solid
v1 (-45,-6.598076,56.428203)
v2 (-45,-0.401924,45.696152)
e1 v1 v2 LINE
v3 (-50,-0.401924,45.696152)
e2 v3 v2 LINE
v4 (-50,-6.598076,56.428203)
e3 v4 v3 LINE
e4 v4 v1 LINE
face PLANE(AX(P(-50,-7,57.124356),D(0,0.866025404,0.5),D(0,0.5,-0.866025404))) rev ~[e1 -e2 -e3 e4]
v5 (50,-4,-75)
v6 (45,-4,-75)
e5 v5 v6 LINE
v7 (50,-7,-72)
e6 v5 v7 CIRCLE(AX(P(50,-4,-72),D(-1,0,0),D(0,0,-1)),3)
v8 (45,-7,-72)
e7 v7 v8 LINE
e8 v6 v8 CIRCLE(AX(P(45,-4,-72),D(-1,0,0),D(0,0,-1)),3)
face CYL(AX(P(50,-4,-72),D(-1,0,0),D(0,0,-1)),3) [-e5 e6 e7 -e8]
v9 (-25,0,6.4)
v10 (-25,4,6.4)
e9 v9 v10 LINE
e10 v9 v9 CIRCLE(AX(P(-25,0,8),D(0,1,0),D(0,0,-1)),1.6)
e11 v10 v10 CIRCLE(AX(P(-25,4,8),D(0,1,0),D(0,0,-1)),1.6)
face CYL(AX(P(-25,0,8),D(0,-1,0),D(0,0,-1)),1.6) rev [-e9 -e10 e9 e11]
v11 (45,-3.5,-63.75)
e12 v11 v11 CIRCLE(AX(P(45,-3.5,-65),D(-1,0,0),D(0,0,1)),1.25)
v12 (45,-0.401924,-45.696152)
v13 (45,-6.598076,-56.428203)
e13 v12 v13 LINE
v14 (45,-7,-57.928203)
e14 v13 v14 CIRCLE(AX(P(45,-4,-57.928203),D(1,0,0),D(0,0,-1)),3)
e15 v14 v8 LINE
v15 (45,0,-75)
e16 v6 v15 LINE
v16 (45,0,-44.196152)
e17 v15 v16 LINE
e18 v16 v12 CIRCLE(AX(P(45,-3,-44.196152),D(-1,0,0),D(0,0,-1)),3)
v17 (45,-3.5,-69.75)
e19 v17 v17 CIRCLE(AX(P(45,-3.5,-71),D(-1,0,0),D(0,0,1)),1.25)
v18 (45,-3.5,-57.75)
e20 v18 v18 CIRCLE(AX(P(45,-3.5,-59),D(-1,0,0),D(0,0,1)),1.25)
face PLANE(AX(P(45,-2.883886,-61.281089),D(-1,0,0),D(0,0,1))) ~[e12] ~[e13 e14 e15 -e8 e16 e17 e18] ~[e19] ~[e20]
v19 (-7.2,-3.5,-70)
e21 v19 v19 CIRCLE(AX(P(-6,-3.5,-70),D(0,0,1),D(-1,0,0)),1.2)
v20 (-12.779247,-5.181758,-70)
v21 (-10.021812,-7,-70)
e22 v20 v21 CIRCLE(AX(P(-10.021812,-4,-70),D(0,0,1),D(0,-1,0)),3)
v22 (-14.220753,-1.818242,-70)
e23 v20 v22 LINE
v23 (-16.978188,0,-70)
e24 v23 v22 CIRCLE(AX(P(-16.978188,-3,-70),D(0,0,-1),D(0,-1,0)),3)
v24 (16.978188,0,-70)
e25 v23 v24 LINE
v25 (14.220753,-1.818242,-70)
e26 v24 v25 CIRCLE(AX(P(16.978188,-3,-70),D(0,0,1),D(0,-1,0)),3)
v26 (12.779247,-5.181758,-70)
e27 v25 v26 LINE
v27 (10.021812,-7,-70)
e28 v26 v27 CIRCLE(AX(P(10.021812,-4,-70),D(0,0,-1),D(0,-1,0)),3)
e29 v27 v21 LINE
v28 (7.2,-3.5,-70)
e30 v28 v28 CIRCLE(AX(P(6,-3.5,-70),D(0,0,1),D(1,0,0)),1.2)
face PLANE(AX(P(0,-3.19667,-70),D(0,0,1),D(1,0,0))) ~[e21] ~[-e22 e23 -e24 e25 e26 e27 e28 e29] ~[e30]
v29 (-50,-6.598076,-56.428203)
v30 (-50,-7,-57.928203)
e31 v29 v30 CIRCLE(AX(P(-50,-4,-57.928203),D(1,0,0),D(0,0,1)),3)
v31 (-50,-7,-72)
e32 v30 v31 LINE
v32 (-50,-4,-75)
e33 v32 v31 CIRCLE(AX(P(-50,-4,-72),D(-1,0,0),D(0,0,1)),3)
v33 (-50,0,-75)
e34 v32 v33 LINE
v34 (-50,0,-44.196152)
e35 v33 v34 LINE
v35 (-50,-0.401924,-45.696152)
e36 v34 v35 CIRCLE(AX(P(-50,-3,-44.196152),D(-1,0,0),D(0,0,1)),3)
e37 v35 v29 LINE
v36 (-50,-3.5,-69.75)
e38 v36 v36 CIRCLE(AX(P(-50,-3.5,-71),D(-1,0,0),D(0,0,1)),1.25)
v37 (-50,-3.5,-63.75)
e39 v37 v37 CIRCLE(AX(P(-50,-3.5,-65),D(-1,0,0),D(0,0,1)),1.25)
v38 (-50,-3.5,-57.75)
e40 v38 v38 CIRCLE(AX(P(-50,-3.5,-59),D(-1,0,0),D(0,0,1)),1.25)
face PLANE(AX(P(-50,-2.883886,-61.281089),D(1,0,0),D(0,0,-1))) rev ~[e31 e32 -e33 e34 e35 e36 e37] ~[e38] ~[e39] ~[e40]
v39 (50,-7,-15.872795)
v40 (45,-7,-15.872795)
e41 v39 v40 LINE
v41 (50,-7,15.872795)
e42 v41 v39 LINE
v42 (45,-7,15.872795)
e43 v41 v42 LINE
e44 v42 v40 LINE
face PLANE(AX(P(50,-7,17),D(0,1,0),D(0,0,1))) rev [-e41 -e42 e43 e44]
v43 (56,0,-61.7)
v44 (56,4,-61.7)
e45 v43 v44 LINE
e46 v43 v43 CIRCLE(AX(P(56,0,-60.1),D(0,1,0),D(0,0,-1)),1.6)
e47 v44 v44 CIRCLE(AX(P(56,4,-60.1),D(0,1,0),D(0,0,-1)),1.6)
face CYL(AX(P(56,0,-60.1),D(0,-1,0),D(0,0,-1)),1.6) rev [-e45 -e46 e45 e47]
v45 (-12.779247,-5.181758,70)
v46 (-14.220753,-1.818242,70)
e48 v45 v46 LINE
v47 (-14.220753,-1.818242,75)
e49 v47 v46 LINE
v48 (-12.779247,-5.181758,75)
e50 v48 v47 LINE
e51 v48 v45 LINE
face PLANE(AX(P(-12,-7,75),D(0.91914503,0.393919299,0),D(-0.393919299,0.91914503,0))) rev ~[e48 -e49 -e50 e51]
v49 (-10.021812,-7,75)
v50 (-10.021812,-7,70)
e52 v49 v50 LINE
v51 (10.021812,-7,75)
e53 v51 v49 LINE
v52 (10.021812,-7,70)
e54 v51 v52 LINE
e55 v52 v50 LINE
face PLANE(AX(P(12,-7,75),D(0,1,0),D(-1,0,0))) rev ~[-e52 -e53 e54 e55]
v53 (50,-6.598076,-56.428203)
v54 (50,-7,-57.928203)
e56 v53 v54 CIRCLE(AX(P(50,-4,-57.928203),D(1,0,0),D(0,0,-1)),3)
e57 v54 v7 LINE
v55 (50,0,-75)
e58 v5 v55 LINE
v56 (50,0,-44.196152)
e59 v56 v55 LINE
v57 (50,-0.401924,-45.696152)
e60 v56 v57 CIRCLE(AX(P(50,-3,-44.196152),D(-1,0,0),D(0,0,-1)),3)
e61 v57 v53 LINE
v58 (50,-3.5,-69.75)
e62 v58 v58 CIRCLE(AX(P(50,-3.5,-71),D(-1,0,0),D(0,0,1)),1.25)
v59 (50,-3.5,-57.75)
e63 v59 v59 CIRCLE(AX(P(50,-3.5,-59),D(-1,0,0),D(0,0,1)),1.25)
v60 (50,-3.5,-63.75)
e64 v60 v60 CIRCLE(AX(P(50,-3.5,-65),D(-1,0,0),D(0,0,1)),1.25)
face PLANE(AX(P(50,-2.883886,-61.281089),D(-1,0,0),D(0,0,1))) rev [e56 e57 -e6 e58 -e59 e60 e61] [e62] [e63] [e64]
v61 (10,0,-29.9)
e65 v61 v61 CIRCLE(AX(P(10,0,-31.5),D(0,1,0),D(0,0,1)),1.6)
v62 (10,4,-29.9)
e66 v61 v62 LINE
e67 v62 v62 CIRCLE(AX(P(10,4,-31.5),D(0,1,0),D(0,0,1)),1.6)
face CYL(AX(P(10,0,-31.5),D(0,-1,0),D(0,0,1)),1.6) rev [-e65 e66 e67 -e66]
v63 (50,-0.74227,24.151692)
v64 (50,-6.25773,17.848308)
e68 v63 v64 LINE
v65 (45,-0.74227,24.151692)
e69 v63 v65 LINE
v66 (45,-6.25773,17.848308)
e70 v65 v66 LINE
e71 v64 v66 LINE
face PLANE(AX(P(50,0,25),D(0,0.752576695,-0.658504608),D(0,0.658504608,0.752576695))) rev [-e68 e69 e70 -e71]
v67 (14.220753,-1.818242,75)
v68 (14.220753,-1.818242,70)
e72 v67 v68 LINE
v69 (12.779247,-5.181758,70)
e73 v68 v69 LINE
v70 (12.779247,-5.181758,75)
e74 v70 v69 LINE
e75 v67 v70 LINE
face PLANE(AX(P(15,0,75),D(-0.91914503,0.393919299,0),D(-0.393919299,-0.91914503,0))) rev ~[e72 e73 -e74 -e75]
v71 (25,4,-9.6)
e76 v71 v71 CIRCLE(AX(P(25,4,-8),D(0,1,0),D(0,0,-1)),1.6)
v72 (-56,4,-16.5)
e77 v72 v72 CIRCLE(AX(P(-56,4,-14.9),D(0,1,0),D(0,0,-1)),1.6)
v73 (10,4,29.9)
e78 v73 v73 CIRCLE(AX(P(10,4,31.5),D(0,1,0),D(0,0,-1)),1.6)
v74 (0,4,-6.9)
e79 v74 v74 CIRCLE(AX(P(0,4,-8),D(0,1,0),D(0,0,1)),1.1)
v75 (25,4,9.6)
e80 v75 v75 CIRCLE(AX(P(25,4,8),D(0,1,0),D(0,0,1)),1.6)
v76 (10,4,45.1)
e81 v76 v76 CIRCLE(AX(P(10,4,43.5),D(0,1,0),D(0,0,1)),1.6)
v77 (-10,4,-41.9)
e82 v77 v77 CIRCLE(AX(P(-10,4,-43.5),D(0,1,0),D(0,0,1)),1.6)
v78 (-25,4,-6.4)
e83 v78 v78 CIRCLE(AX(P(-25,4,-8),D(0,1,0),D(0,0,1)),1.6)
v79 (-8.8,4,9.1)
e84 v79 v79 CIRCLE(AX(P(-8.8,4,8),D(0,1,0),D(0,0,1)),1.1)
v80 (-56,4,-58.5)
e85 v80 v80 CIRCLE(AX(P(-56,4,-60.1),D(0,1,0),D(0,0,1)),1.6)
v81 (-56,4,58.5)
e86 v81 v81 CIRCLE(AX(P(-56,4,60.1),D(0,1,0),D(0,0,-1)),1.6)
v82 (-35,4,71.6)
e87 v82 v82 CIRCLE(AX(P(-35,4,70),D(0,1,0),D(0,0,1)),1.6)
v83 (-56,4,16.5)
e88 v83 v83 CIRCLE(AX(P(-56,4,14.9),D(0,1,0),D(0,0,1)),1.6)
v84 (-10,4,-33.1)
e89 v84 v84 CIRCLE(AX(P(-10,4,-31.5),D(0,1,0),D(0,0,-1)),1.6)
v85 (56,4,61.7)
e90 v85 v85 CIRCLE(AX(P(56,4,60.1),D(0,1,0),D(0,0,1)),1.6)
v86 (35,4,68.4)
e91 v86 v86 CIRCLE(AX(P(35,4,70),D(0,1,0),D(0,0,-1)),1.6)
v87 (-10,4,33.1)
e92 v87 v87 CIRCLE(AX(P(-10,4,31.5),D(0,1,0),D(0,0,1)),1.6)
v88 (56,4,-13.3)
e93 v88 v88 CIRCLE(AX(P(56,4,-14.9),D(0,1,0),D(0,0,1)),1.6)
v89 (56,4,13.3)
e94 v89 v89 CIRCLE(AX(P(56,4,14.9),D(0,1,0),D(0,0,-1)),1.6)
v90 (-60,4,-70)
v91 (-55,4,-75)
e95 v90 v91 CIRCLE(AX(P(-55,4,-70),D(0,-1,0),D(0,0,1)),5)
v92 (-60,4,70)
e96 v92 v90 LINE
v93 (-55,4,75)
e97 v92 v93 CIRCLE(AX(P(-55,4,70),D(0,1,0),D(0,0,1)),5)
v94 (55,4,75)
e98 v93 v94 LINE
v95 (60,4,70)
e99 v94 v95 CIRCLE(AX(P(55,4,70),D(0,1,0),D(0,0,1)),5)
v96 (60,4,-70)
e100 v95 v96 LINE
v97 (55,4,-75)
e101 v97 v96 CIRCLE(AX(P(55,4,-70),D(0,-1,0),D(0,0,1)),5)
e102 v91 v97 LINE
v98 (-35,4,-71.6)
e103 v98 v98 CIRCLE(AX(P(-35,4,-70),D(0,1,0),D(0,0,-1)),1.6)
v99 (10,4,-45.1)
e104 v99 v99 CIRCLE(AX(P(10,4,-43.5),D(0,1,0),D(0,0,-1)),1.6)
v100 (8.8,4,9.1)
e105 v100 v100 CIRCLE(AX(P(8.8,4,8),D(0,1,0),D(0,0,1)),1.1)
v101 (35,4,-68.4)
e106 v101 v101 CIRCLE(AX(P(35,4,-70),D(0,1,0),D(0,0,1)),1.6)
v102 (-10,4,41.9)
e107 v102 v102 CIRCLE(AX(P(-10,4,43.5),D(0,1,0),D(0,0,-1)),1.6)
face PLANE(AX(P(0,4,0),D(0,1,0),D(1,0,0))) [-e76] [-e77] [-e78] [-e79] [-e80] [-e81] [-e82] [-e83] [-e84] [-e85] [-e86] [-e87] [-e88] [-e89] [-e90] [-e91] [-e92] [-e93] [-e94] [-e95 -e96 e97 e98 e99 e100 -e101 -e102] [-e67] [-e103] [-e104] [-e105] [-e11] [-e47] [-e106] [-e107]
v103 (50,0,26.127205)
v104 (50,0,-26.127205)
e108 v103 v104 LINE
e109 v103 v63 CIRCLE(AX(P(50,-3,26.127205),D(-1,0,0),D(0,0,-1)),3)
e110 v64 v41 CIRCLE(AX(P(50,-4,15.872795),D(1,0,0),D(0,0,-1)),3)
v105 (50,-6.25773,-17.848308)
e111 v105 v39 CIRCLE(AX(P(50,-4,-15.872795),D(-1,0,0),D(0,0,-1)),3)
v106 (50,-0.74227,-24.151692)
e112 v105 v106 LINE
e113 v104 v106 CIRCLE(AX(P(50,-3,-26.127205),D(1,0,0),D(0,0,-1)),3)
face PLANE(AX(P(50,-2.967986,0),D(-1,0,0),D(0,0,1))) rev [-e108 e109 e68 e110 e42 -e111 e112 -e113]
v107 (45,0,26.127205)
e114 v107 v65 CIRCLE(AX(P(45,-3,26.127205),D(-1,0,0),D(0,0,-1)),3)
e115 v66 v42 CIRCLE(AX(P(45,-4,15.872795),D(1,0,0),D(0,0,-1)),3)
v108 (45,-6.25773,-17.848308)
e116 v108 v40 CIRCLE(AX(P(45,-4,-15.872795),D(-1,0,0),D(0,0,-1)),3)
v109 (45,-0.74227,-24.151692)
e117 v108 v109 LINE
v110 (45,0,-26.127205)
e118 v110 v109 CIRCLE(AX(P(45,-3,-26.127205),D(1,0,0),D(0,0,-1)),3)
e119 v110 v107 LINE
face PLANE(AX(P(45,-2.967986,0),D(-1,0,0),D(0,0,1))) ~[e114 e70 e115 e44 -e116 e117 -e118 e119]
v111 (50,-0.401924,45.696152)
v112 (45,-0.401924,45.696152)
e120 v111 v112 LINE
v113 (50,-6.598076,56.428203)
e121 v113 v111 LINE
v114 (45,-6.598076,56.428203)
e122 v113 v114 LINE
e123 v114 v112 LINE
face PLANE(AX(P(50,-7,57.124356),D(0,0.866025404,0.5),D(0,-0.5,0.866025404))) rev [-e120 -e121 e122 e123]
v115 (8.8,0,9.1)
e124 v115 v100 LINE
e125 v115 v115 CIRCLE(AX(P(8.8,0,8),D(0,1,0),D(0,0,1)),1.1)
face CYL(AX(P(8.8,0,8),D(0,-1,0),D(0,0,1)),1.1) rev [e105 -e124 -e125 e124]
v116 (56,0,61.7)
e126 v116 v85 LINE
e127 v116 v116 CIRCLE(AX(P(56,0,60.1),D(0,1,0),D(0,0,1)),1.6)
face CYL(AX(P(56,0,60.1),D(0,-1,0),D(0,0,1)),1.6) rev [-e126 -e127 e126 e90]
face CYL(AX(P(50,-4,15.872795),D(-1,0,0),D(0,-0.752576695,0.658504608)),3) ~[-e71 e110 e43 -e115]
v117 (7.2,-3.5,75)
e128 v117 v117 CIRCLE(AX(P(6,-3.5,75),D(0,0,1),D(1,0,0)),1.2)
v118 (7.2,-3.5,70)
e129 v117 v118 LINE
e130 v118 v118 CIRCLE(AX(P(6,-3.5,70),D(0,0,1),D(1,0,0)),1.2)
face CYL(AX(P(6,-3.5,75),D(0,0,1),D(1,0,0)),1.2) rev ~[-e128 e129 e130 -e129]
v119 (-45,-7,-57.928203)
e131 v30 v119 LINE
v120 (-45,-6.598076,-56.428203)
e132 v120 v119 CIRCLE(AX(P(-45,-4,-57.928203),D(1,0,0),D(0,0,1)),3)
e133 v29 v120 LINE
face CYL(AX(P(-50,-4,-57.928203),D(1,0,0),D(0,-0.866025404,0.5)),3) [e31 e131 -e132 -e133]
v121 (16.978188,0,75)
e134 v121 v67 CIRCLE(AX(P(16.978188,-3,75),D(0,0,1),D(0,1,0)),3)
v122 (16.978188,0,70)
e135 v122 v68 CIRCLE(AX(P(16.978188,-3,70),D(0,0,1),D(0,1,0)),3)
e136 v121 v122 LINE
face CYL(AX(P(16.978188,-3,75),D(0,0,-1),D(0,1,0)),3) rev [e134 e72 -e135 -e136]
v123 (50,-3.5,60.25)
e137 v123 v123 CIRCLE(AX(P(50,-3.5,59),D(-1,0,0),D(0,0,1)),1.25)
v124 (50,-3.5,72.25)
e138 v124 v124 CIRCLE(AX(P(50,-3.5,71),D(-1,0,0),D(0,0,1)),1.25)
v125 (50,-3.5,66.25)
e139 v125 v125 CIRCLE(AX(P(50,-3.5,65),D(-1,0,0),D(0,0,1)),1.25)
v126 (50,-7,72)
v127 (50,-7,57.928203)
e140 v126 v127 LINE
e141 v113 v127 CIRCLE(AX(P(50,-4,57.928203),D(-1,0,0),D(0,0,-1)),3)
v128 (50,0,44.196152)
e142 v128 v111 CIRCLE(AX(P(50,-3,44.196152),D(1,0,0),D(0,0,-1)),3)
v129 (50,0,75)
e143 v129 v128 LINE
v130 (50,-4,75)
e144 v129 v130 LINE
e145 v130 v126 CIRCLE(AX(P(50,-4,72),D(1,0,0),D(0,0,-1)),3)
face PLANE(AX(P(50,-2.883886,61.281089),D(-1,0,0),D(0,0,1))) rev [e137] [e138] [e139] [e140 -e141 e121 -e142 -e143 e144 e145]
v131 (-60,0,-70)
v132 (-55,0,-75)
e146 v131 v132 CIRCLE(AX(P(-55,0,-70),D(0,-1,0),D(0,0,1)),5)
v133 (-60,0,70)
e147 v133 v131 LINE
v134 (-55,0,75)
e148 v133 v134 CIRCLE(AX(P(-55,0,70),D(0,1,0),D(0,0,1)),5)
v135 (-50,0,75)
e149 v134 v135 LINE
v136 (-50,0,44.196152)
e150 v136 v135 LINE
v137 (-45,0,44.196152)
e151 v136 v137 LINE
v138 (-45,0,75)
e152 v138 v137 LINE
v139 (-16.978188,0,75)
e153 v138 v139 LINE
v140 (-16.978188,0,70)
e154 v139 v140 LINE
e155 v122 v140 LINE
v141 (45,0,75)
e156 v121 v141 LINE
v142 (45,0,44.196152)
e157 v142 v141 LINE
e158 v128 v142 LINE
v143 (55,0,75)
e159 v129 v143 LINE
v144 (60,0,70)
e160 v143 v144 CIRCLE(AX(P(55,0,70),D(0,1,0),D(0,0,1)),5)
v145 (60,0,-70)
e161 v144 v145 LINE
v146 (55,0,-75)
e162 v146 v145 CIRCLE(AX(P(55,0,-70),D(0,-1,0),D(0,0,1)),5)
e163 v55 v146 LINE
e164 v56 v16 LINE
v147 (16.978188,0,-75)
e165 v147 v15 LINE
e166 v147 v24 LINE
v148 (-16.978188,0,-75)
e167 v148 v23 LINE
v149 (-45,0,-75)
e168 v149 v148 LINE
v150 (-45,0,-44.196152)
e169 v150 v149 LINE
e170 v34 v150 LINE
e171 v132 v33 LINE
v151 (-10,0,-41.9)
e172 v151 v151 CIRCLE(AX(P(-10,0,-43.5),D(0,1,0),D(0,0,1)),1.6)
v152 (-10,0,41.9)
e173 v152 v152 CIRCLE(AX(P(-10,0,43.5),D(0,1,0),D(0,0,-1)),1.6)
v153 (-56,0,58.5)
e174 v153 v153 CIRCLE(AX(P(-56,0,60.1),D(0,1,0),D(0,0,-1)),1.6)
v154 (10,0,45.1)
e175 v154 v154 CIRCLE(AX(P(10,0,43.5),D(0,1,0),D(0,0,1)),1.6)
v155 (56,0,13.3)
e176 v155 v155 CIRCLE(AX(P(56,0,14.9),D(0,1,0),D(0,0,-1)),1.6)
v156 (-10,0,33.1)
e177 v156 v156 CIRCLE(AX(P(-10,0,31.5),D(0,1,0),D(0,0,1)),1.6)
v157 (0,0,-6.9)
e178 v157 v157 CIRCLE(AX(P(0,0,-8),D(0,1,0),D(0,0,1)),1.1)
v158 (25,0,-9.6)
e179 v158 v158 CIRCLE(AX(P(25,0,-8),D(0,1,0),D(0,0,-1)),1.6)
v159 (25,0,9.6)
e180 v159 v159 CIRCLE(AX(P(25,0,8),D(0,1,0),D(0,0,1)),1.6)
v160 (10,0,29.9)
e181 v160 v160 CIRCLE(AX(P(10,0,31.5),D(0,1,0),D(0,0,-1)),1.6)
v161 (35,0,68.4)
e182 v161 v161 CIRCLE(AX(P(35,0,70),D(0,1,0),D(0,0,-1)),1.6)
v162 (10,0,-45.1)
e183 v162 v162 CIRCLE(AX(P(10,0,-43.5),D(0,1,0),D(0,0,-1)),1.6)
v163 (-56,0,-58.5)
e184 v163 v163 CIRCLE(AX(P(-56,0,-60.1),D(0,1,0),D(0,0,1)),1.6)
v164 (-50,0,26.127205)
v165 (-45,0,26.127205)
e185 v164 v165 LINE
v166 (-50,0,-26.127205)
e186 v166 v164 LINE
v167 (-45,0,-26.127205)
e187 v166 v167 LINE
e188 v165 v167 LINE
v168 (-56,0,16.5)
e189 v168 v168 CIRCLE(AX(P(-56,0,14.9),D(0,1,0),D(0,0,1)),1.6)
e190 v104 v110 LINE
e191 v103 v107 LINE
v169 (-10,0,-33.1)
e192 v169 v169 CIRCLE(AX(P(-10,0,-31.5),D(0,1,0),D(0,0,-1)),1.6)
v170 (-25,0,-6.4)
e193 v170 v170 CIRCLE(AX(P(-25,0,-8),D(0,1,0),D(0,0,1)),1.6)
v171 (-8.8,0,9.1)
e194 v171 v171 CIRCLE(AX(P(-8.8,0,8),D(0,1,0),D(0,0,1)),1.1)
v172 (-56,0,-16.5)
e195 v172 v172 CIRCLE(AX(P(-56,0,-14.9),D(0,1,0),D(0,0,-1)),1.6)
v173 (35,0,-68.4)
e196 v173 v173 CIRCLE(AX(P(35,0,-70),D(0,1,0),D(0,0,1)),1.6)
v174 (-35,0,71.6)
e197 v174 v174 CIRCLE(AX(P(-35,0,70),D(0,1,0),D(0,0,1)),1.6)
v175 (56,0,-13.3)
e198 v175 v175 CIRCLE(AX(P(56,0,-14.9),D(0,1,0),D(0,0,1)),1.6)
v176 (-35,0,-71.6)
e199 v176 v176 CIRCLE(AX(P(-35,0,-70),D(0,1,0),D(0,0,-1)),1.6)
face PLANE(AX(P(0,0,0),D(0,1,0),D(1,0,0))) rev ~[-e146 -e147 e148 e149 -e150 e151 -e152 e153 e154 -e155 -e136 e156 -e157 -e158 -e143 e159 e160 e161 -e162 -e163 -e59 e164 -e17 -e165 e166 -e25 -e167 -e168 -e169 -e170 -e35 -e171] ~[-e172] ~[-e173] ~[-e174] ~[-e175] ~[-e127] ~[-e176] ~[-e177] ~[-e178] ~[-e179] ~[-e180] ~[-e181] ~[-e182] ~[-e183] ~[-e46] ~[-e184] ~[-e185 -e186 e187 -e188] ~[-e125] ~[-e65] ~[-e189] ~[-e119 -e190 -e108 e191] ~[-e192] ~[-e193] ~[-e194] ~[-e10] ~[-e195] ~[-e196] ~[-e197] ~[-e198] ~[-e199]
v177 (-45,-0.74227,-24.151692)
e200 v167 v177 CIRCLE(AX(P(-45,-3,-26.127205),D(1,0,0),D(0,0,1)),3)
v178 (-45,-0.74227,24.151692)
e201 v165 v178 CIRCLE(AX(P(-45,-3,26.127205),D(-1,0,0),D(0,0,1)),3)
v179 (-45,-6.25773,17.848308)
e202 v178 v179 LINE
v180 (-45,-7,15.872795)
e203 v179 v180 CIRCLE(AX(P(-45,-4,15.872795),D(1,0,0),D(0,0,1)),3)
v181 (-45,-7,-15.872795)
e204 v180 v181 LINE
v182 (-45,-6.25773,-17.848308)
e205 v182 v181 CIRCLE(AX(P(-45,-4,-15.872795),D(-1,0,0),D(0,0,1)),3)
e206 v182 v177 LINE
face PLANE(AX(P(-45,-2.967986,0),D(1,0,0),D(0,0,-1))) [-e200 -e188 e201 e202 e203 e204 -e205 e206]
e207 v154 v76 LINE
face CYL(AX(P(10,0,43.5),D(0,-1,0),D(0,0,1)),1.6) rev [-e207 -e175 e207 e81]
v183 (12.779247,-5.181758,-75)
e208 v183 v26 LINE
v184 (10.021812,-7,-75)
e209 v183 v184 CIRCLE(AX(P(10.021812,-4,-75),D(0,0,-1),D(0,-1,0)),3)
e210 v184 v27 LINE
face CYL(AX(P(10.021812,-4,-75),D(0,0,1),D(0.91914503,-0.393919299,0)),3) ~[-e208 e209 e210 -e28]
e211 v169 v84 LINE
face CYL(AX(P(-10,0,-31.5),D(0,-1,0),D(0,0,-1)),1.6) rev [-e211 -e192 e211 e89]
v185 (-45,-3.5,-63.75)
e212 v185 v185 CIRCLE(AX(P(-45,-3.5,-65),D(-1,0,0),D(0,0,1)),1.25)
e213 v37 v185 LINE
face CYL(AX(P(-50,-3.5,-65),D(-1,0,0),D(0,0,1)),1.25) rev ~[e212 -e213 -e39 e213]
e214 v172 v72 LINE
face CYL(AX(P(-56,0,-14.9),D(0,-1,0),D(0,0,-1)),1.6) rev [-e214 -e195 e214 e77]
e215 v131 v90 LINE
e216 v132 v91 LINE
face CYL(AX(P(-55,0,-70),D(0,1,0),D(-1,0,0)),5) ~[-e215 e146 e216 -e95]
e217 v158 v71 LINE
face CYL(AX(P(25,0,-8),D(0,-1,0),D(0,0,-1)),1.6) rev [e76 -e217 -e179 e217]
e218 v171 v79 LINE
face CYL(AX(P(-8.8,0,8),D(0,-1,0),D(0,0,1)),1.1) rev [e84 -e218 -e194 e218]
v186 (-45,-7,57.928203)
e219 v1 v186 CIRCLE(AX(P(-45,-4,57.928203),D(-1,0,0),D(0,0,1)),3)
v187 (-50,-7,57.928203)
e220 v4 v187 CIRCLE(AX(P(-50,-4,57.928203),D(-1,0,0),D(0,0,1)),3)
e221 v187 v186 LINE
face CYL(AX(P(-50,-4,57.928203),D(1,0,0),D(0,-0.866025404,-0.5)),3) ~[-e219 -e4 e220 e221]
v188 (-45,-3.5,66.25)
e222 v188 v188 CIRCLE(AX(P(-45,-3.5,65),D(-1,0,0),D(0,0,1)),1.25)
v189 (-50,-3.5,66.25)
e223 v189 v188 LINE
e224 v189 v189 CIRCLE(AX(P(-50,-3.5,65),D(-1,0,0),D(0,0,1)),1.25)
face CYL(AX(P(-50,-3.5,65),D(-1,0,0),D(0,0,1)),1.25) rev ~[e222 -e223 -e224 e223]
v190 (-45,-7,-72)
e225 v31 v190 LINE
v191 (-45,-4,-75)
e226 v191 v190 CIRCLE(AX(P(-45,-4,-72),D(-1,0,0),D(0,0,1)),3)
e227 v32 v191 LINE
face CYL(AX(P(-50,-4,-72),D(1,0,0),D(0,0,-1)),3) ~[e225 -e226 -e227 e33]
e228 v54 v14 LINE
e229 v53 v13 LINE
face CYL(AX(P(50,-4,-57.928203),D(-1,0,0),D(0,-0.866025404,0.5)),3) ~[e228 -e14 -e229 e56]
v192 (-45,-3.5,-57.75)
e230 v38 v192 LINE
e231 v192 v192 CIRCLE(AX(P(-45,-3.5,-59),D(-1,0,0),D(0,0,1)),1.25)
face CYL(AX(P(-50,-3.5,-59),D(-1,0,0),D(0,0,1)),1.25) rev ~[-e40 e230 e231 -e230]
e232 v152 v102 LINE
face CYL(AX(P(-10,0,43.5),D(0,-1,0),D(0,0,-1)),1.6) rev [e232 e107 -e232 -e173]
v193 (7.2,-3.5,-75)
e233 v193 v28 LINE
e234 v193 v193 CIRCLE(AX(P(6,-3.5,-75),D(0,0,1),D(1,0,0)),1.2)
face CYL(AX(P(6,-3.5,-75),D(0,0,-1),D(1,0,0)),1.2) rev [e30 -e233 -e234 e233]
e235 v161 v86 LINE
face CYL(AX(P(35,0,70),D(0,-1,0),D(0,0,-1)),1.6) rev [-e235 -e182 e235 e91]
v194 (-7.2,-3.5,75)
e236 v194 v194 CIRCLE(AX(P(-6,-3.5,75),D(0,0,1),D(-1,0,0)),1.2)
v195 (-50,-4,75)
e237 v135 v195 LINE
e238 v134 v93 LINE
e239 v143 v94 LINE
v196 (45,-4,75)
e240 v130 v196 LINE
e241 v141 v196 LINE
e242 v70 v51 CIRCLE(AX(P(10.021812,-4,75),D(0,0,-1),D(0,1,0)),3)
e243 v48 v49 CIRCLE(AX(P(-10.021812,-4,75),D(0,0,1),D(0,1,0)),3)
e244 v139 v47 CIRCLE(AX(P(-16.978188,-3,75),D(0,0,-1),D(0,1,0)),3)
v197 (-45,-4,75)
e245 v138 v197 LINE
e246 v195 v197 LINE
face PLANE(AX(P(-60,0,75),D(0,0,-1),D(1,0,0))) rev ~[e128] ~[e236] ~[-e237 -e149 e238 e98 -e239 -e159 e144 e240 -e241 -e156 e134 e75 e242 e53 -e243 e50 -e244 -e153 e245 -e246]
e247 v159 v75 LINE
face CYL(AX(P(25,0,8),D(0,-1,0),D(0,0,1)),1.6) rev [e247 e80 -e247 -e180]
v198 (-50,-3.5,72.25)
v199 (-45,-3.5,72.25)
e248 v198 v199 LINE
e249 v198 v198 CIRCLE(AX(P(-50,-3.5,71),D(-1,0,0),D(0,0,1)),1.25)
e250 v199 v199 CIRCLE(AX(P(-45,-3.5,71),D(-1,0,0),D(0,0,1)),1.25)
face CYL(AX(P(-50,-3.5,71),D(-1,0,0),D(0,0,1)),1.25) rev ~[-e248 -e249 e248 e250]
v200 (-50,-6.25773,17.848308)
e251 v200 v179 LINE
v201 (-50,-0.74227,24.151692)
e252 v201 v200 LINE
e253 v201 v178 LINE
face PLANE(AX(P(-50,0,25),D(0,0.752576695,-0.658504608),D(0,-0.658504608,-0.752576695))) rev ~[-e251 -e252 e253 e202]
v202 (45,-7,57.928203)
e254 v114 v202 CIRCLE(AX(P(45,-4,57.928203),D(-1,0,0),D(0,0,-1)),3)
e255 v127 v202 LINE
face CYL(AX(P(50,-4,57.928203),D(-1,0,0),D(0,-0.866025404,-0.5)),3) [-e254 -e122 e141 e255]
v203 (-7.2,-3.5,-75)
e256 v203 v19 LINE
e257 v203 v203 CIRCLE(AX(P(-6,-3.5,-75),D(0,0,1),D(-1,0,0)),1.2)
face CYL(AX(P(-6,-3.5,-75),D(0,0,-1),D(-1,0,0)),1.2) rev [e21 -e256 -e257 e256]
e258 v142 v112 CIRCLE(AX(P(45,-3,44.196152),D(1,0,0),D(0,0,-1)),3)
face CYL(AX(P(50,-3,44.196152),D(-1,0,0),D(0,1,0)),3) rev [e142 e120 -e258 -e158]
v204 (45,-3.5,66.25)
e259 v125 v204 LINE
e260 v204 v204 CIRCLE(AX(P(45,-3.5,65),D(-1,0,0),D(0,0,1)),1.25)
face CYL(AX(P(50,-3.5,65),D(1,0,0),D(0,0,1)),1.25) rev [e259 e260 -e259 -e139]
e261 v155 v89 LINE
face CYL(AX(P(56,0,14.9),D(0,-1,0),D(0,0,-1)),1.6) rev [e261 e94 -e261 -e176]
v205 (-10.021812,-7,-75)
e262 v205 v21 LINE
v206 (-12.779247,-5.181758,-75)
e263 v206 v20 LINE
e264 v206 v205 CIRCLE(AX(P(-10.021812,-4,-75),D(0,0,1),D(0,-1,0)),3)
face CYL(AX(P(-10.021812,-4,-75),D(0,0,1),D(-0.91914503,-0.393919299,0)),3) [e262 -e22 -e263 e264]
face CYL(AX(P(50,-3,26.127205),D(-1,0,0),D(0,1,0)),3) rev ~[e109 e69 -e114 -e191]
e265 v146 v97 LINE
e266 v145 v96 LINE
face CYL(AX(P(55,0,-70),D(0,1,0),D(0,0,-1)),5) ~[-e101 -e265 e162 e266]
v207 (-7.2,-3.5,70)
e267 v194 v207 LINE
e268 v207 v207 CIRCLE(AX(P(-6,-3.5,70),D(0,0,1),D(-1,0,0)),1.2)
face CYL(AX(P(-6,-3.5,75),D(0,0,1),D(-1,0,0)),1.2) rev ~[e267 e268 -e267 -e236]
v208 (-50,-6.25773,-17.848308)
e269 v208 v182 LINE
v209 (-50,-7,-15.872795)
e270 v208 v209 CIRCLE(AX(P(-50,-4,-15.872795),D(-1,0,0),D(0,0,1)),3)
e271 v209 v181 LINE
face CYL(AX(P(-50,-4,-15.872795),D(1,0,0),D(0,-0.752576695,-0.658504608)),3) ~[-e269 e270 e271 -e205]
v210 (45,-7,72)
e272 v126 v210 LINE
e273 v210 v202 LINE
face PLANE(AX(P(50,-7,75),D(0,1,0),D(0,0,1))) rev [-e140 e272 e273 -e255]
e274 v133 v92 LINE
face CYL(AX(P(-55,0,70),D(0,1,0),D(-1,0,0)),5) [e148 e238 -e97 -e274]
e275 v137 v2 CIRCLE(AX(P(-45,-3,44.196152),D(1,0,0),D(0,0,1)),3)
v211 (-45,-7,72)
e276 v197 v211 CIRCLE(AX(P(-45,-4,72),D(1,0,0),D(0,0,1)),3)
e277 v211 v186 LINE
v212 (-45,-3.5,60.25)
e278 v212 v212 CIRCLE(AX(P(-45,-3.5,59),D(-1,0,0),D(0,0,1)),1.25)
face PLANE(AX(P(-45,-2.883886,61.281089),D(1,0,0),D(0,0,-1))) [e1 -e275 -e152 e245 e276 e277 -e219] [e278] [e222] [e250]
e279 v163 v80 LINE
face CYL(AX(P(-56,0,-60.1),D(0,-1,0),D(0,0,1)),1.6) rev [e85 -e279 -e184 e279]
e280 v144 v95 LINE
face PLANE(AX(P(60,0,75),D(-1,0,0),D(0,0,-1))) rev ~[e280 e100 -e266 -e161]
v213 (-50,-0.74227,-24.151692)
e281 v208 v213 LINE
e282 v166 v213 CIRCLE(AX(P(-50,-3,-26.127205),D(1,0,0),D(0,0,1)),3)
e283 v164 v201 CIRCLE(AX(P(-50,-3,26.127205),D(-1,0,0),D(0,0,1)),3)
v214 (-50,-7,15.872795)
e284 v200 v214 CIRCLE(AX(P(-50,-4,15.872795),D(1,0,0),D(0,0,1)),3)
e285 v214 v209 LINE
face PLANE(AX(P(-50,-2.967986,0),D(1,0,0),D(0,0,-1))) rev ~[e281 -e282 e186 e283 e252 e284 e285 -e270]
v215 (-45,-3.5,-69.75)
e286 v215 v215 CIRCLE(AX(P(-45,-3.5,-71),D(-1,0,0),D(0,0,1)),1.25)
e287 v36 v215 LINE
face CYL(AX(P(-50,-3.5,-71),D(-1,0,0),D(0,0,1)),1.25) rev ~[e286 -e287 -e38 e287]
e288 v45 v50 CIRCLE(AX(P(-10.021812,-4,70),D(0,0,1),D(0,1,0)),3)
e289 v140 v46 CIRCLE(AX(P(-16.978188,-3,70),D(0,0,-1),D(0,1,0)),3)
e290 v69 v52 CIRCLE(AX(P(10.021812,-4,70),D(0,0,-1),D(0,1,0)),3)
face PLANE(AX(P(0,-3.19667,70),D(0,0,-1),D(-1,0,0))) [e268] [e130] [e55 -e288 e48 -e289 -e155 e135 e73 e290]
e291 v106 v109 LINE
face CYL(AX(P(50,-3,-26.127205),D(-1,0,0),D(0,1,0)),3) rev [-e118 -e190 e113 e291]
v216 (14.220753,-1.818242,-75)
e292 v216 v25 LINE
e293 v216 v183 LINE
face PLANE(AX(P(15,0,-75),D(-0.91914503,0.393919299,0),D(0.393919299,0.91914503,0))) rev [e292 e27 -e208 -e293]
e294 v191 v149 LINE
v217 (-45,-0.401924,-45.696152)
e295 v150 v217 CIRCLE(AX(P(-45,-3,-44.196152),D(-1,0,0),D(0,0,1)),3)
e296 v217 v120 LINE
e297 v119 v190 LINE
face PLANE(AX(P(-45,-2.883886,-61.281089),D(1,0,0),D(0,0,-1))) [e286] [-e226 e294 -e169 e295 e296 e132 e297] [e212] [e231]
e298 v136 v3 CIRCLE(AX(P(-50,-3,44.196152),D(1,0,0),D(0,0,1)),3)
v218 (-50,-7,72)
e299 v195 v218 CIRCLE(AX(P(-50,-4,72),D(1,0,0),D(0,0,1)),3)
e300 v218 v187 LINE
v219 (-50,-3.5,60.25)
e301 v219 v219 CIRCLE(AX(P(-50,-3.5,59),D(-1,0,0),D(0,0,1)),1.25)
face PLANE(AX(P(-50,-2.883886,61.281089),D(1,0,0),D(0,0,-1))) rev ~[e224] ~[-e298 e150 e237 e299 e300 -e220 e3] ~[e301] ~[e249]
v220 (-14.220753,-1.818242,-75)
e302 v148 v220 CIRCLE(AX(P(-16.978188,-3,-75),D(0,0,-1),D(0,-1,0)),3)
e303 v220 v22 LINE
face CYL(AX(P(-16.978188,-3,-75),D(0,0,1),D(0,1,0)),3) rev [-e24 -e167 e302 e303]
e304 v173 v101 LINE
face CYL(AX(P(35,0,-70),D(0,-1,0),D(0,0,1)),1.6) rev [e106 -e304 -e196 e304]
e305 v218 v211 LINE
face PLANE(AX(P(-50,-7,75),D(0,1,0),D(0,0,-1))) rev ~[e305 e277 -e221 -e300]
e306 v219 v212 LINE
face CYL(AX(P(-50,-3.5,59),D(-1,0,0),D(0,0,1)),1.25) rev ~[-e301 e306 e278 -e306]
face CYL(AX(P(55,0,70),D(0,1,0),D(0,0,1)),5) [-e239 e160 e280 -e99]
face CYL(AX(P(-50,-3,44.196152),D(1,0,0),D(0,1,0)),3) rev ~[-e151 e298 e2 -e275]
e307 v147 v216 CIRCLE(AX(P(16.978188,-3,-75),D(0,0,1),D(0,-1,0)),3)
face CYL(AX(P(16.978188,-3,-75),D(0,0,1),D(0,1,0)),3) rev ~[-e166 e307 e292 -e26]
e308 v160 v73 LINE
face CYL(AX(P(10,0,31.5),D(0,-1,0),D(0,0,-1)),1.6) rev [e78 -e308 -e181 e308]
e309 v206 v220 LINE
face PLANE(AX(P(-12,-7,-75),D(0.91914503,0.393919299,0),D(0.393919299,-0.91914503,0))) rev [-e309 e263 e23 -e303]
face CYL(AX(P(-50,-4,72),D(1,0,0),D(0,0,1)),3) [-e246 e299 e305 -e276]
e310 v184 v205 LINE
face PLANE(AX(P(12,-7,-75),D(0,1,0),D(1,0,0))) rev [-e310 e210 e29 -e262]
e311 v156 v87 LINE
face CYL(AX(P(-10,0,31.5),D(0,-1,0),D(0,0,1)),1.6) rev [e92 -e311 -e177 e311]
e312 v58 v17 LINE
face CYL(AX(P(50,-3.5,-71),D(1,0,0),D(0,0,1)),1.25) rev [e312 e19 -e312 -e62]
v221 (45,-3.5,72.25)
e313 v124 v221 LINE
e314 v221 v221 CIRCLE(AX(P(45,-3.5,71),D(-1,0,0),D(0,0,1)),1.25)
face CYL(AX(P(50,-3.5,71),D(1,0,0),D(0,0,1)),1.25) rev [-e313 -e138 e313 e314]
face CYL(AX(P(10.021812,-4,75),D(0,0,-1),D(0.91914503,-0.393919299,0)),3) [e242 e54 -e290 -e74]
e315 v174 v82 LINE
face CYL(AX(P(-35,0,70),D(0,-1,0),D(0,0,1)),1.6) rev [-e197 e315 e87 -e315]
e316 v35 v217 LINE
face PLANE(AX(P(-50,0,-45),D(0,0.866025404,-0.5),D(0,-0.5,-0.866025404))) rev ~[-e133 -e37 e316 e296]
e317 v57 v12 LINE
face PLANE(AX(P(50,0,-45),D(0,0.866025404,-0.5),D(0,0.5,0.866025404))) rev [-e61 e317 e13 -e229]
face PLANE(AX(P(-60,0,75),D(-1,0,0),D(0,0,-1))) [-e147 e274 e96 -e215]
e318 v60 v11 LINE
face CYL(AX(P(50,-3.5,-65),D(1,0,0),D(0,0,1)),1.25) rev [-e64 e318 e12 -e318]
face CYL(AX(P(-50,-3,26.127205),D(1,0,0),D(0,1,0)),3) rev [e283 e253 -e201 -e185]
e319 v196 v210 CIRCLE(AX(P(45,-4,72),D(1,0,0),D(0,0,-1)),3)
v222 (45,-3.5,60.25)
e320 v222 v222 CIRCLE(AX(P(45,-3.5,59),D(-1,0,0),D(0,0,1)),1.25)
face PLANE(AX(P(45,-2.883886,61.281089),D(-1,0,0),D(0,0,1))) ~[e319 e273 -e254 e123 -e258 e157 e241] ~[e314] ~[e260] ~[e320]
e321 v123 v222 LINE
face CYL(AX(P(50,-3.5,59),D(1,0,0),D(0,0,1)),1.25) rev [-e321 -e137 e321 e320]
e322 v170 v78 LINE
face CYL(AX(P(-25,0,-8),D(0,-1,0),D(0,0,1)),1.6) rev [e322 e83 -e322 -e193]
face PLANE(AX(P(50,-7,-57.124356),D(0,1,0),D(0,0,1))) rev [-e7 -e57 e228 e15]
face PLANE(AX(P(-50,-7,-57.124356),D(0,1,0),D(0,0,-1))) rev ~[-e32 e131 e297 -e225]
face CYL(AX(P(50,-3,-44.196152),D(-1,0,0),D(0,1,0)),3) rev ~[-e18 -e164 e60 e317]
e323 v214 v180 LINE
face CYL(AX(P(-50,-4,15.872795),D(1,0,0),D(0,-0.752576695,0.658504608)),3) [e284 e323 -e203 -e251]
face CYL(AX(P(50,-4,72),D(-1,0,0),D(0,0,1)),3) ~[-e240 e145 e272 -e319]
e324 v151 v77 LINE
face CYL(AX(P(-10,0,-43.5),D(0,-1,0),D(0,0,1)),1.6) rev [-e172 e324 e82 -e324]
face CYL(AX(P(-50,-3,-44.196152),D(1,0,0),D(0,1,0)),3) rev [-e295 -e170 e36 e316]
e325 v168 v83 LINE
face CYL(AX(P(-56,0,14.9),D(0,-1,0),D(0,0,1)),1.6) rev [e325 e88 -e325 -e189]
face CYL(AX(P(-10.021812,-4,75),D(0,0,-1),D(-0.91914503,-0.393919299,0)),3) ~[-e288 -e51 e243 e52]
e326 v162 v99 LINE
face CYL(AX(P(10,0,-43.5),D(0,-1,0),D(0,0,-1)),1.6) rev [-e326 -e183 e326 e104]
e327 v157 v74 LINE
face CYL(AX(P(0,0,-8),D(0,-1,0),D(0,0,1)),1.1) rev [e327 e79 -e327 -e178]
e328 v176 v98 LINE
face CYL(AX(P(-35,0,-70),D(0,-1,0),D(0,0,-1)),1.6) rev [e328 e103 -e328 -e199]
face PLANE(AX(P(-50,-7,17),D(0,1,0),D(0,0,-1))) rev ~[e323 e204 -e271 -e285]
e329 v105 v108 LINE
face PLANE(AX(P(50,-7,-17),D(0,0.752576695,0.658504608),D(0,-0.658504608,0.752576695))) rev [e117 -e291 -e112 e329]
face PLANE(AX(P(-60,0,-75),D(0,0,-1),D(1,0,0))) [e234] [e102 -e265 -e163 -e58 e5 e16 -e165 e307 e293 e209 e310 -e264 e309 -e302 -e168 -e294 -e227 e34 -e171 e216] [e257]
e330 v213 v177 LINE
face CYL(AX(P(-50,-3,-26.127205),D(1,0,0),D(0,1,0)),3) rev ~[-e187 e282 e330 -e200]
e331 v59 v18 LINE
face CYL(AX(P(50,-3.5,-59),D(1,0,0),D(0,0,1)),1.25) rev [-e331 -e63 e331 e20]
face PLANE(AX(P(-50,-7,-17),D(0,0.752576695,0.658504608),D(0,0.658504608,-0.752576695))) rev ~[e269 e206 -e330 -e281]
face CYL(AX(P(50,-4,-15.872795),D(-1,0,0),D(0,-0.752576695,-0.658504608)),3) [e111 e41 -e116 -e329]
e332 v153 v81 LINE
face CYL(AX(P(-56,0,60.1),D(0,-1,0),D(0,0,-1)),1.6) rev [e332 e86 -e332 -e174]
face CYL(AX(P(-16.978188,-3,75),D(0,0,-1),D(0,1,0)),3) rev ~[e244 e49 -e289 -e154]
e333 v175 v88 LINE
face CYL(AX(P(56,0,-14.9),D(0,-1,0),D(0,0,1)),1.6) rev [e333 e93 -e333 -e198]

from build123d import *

# Parameters (mm, degrees)
SKETCH_1_W      = 120
SKETCH_1_H      = 150
SKETCH_1_R      = 1.6
SKETCH_1_R_2    = 1.1
EXTRUDE_1_DEPTH = 4
SKETCH_2_R      = 1.25
EXTRUDE_2_DEPTH = 5
SKETCH_3_R      = 1.2
EXTRUDE_3_DEPTH = 5
FILLET_1_R      = 5
FILLET_3_R      = 3


with BuildPart() as part:
    # 草图1 → 凸台-拉伸1 (new body)
    with BuildSketch(Plane(origin=(0, 0, 0), x_dir=(1, 0, 0), z_dir=(0, 1, 0))):
        Rectangle(SKETCH_1_W, SKETCH_1_H)
        with Locations(Location((-56, 60.1, 0), (0, 0, 270))):
            Circle(SKETCH_1_R, mode=Mode.SUBTRACT)
        with Locations(Location((-56, 14.9, 0), (0, 0, 90))):
            Circle(SKETCH_1_R, mode=Mode.SUBTRACT)
        with Locations(Location((-10, 43.5, 0), (0, 0, 270))):
            Circle(SKETCH_1_R, mode=Mode.SUBTRACT)
        with Locations(Location((-10, 31.5, 0), (0, 0, 90))):
            Circle(SKETCH_1_R, mode=Mode.SUBTRACT)
        with Locations(Location((-56, -14.9, 0), (0, 0, 270))):
            Circle(SKETCH_1_R, mode=Mode.SUBTRACT)
        with Locations(Location((-10, -31.5, 0), (0, 0, 270))):
            Circle(SKETCH_1_R, mode=Mode.SUBTRACT)
        with Locations(Location((-10, -43.5, 0), (0, 0, 90))):
            Circle(SKETCH_1_R, mode=Mode.SUBTRACT)
        with Locations(Location((-56, -60.1, 0), (0, 0, 90))):
            Circle(SKETCH_1_R, mode=Mode.SUBTRACT)
        with Locations(Location((56, -60.1, 0), (0, 0, 270))):
            Circle(SKETCH_1_R, mode=Mode.SUBTRACT)
        with Locations(Location((10, -43.5, 0), (0, 0, 270))):
            Circle(SKETCH_1_R, mode=Mode.SUBTRACT)
        with Locations(Location((10, -31.5, 0), (0, 0, 90))):
            Circle(SKETCH_1_R, mode=Mode.SUBTRACT)
        with Locations(Location((56, -14.9, 0), (0, 0, 90))):
            Circle(SKETCH_1_R, mode=Mode.SUBTRACT)
        with Locations(Location((56, 14.9, 0), (0, 0, 270))):
            Circle(SKETCH_1_R, mode=Mode.SUBTRACT)
        with Locations(Location((10, 31.5, 0), (0, 0, 270))):
            Circle(SKETCH_1_R, mode=Mode.SUBTRACT)
        with Locations(Location((10, 43.5, 0), (0, 0, 90))):
            Circle(SKETCH_1_R, mode=Mode.SUBTRACT)
        with Locations(Location((56, 60.1, 0), (0, 0, 90))):
            Circle(SKETCH_1_R, mode=Mode.SUBTRACT)
        with Locations(Location((0, 8, 0), (0, 0, 270))):
            Circle(SKETCH_1_R_2, mode=Mode.SUBTRACT)
        with Locations(Location((8.8, -8, 0), (0, 0, 270))):
            Circle(SKETCH_1_R_2, mode=Mode.SUBTRACT)
        with Locations(Location((-8.8, -8, 0), (0, 0, 270))):
            Circle(SKETCH_1_R_2, mode=Mode.SUBTRACT)
        with Locations(Location((-25, 8, 0), (0, 0, 270))):
            Circle(SKETCH_1_R, mode=Mode.SUBTRACT)
        with Locations(Location((25, 8, 0), (0, 0, 90))):
            Circle(SKETCH_1_R, mode=Mode.SUBTRACT)
        with Locations(Location((25, -8, 0), (0, 0, 270))):
            Circle(SKETCH_1_R, mode=Mode.SUBTRACT)
        with Locations(Location((-25, -8, 0), (0, 0, 90))):
            Circle(SKETCH_1_R, mode=Mode.SUBTRACT)
        with Locations(Location((35, 70, 0), (0, 0, 270))):
            Circle(SKETCH_1_R, mode=Mode.SUBTRACT)
        with Locations(Location((-35, 70, 0), (0, 0, 90))):
            Circle(SKETCH_1_R, mode=Mode.SUBTRACT)
        with Locations(Location((-35, -70, 0), (0, 0, 270))):
            Circle(SKETCH_1_R, mode=Mode.SUBTRACT)
        with Locations(Location((35, -70, 0), (0, 0, 90))):
            Circle(SKETCH_1_R, mode=Mode.SUBTRACT)
    extrude(amount=EXTRUDE_1_DEPTH)

    # 草图2 → 凸台-拉伸2 (add)
    # profile 1 of 3: a face of its own
    with BuildSketch(Plane.ZY.offset(50)):
        Polygon((45, 0), (75, 0), (75, -7), (57.124355653, -7), align=None)
        with Locations((71, -3.5)):
            Circle(SKETCH_2_R, mode=Mode.SUBTRACT)
        with Locations((65, -3.5)):
            Circle(SKETCH_2_R, mode=Mode.SUBTRACT)
        with Locations((59, -3.5)):
            Circle(SKETCH_2_R, mode=Mode.SUBTRACT)
    # profile 2 of 3: a face of its own
    with BuildSketch(Plane.ZY.offset(50)):
        Polygon((-57.124355653, -7), (-75, -7), (-75, 0), (-45, 0), align=None)
        with Locations((-71, -3.5)):
            Circle(SKETCH_2_R, mode=Mode.SUBTRACT)
        with Locations((-65, -3.5)):
            Circle(SKETCH_2_R, mode=Mode.SUBTRACT)
        with Locations((-59, -3.5)):
            Circle(SKETCH_2_R, mode=Mode.SUBTRACT)
    # profile 3 of 3: a face of its own
    with BuildSketch(Plane.ZY.offset(50)):
        Polygon((-25, 0), (25, 0), (17, -7), (-17, -7), align=None)
    extrude_2 = extrude(amount=-EXTRUDE_2_DEPTH)

    # 镜向1: 凸台-拉伸2 across plane
    add(extrude_2.mirror(Plane.ZY))

    # 草图3 → 凸台-拉伸3 (add)
    with BuildSketch(Plane.XY.offset(75)):
        Polygon((-15, 0), (15, 0), (12, -7), (-12, -7), align=None)
        with Locations((6, -3.5)):
            Circle(SKETCH_3_R, mode=Mode.SUBTRACT)
        with Locations(Location((-6, -3.5, 0), (0, 0, 180))):
            Circle(SKETCH_3_R, mode=Mode.SUBTRACT)
    extrude_3 = extrude(amount=-EXTRUDE_3_DEPTH)

    # 镜向2: 凸台-拉伸3 across plane
    add(extrude_3.mirror(Plane.XY))

    # 圆角1
    fillet_1_edges = [part.edges().sort_by_distance(p)[0] for p in [
        (60, 2, 75),
        (-60, 2, 75),
        (-60, 2, -75),
        (60, 2, -75),
    ]]
    fillet(fillet_1_edges, radius=FILLET_1_R)

    # 圆角3
    fillet_3_edges = [part.edges().sort_by_distance(p)[0] for p in [
        (-47.5, 0, 45),
        (-47.5, -7, 57.124355653),
        (-47.5, -7, 75),
        (47.5, -7, 75),
        (47.5, -7, 57.124355653),
        (47.5, 0, 45),
        (47.5, 0, -45),
        (-47.5, 0, -45),
        (47.5, -7, -75),
        (47.5, -7, -57.124355653),
        (-47.5, -7, -57.124355653),
        (-47.5, -7, -75),
        (-47.5, -7, 17),
        (-47.5, 0, 25),
        (-47.5, 0, -25),
        (-47.5, -7, -17),
        (47.5, 0, -25),
        (47.5, -7, -17),
        (47.5, -7, 17),
        (47.5, 0, 25),
        (-12, -7, -72.5),
        (-15, 0, -72.5),
        (12, -7, -72.5),
        (15, 0, -72.5),
        (-12, -7, 72.5),
        (-15, 0, 72.5),
        (12, -7, 72.5),
        (15, 0, 72.5),
    ]]
    fillet(fillet_3_edges, radius=FILLET_3_R)


solid = part.part
